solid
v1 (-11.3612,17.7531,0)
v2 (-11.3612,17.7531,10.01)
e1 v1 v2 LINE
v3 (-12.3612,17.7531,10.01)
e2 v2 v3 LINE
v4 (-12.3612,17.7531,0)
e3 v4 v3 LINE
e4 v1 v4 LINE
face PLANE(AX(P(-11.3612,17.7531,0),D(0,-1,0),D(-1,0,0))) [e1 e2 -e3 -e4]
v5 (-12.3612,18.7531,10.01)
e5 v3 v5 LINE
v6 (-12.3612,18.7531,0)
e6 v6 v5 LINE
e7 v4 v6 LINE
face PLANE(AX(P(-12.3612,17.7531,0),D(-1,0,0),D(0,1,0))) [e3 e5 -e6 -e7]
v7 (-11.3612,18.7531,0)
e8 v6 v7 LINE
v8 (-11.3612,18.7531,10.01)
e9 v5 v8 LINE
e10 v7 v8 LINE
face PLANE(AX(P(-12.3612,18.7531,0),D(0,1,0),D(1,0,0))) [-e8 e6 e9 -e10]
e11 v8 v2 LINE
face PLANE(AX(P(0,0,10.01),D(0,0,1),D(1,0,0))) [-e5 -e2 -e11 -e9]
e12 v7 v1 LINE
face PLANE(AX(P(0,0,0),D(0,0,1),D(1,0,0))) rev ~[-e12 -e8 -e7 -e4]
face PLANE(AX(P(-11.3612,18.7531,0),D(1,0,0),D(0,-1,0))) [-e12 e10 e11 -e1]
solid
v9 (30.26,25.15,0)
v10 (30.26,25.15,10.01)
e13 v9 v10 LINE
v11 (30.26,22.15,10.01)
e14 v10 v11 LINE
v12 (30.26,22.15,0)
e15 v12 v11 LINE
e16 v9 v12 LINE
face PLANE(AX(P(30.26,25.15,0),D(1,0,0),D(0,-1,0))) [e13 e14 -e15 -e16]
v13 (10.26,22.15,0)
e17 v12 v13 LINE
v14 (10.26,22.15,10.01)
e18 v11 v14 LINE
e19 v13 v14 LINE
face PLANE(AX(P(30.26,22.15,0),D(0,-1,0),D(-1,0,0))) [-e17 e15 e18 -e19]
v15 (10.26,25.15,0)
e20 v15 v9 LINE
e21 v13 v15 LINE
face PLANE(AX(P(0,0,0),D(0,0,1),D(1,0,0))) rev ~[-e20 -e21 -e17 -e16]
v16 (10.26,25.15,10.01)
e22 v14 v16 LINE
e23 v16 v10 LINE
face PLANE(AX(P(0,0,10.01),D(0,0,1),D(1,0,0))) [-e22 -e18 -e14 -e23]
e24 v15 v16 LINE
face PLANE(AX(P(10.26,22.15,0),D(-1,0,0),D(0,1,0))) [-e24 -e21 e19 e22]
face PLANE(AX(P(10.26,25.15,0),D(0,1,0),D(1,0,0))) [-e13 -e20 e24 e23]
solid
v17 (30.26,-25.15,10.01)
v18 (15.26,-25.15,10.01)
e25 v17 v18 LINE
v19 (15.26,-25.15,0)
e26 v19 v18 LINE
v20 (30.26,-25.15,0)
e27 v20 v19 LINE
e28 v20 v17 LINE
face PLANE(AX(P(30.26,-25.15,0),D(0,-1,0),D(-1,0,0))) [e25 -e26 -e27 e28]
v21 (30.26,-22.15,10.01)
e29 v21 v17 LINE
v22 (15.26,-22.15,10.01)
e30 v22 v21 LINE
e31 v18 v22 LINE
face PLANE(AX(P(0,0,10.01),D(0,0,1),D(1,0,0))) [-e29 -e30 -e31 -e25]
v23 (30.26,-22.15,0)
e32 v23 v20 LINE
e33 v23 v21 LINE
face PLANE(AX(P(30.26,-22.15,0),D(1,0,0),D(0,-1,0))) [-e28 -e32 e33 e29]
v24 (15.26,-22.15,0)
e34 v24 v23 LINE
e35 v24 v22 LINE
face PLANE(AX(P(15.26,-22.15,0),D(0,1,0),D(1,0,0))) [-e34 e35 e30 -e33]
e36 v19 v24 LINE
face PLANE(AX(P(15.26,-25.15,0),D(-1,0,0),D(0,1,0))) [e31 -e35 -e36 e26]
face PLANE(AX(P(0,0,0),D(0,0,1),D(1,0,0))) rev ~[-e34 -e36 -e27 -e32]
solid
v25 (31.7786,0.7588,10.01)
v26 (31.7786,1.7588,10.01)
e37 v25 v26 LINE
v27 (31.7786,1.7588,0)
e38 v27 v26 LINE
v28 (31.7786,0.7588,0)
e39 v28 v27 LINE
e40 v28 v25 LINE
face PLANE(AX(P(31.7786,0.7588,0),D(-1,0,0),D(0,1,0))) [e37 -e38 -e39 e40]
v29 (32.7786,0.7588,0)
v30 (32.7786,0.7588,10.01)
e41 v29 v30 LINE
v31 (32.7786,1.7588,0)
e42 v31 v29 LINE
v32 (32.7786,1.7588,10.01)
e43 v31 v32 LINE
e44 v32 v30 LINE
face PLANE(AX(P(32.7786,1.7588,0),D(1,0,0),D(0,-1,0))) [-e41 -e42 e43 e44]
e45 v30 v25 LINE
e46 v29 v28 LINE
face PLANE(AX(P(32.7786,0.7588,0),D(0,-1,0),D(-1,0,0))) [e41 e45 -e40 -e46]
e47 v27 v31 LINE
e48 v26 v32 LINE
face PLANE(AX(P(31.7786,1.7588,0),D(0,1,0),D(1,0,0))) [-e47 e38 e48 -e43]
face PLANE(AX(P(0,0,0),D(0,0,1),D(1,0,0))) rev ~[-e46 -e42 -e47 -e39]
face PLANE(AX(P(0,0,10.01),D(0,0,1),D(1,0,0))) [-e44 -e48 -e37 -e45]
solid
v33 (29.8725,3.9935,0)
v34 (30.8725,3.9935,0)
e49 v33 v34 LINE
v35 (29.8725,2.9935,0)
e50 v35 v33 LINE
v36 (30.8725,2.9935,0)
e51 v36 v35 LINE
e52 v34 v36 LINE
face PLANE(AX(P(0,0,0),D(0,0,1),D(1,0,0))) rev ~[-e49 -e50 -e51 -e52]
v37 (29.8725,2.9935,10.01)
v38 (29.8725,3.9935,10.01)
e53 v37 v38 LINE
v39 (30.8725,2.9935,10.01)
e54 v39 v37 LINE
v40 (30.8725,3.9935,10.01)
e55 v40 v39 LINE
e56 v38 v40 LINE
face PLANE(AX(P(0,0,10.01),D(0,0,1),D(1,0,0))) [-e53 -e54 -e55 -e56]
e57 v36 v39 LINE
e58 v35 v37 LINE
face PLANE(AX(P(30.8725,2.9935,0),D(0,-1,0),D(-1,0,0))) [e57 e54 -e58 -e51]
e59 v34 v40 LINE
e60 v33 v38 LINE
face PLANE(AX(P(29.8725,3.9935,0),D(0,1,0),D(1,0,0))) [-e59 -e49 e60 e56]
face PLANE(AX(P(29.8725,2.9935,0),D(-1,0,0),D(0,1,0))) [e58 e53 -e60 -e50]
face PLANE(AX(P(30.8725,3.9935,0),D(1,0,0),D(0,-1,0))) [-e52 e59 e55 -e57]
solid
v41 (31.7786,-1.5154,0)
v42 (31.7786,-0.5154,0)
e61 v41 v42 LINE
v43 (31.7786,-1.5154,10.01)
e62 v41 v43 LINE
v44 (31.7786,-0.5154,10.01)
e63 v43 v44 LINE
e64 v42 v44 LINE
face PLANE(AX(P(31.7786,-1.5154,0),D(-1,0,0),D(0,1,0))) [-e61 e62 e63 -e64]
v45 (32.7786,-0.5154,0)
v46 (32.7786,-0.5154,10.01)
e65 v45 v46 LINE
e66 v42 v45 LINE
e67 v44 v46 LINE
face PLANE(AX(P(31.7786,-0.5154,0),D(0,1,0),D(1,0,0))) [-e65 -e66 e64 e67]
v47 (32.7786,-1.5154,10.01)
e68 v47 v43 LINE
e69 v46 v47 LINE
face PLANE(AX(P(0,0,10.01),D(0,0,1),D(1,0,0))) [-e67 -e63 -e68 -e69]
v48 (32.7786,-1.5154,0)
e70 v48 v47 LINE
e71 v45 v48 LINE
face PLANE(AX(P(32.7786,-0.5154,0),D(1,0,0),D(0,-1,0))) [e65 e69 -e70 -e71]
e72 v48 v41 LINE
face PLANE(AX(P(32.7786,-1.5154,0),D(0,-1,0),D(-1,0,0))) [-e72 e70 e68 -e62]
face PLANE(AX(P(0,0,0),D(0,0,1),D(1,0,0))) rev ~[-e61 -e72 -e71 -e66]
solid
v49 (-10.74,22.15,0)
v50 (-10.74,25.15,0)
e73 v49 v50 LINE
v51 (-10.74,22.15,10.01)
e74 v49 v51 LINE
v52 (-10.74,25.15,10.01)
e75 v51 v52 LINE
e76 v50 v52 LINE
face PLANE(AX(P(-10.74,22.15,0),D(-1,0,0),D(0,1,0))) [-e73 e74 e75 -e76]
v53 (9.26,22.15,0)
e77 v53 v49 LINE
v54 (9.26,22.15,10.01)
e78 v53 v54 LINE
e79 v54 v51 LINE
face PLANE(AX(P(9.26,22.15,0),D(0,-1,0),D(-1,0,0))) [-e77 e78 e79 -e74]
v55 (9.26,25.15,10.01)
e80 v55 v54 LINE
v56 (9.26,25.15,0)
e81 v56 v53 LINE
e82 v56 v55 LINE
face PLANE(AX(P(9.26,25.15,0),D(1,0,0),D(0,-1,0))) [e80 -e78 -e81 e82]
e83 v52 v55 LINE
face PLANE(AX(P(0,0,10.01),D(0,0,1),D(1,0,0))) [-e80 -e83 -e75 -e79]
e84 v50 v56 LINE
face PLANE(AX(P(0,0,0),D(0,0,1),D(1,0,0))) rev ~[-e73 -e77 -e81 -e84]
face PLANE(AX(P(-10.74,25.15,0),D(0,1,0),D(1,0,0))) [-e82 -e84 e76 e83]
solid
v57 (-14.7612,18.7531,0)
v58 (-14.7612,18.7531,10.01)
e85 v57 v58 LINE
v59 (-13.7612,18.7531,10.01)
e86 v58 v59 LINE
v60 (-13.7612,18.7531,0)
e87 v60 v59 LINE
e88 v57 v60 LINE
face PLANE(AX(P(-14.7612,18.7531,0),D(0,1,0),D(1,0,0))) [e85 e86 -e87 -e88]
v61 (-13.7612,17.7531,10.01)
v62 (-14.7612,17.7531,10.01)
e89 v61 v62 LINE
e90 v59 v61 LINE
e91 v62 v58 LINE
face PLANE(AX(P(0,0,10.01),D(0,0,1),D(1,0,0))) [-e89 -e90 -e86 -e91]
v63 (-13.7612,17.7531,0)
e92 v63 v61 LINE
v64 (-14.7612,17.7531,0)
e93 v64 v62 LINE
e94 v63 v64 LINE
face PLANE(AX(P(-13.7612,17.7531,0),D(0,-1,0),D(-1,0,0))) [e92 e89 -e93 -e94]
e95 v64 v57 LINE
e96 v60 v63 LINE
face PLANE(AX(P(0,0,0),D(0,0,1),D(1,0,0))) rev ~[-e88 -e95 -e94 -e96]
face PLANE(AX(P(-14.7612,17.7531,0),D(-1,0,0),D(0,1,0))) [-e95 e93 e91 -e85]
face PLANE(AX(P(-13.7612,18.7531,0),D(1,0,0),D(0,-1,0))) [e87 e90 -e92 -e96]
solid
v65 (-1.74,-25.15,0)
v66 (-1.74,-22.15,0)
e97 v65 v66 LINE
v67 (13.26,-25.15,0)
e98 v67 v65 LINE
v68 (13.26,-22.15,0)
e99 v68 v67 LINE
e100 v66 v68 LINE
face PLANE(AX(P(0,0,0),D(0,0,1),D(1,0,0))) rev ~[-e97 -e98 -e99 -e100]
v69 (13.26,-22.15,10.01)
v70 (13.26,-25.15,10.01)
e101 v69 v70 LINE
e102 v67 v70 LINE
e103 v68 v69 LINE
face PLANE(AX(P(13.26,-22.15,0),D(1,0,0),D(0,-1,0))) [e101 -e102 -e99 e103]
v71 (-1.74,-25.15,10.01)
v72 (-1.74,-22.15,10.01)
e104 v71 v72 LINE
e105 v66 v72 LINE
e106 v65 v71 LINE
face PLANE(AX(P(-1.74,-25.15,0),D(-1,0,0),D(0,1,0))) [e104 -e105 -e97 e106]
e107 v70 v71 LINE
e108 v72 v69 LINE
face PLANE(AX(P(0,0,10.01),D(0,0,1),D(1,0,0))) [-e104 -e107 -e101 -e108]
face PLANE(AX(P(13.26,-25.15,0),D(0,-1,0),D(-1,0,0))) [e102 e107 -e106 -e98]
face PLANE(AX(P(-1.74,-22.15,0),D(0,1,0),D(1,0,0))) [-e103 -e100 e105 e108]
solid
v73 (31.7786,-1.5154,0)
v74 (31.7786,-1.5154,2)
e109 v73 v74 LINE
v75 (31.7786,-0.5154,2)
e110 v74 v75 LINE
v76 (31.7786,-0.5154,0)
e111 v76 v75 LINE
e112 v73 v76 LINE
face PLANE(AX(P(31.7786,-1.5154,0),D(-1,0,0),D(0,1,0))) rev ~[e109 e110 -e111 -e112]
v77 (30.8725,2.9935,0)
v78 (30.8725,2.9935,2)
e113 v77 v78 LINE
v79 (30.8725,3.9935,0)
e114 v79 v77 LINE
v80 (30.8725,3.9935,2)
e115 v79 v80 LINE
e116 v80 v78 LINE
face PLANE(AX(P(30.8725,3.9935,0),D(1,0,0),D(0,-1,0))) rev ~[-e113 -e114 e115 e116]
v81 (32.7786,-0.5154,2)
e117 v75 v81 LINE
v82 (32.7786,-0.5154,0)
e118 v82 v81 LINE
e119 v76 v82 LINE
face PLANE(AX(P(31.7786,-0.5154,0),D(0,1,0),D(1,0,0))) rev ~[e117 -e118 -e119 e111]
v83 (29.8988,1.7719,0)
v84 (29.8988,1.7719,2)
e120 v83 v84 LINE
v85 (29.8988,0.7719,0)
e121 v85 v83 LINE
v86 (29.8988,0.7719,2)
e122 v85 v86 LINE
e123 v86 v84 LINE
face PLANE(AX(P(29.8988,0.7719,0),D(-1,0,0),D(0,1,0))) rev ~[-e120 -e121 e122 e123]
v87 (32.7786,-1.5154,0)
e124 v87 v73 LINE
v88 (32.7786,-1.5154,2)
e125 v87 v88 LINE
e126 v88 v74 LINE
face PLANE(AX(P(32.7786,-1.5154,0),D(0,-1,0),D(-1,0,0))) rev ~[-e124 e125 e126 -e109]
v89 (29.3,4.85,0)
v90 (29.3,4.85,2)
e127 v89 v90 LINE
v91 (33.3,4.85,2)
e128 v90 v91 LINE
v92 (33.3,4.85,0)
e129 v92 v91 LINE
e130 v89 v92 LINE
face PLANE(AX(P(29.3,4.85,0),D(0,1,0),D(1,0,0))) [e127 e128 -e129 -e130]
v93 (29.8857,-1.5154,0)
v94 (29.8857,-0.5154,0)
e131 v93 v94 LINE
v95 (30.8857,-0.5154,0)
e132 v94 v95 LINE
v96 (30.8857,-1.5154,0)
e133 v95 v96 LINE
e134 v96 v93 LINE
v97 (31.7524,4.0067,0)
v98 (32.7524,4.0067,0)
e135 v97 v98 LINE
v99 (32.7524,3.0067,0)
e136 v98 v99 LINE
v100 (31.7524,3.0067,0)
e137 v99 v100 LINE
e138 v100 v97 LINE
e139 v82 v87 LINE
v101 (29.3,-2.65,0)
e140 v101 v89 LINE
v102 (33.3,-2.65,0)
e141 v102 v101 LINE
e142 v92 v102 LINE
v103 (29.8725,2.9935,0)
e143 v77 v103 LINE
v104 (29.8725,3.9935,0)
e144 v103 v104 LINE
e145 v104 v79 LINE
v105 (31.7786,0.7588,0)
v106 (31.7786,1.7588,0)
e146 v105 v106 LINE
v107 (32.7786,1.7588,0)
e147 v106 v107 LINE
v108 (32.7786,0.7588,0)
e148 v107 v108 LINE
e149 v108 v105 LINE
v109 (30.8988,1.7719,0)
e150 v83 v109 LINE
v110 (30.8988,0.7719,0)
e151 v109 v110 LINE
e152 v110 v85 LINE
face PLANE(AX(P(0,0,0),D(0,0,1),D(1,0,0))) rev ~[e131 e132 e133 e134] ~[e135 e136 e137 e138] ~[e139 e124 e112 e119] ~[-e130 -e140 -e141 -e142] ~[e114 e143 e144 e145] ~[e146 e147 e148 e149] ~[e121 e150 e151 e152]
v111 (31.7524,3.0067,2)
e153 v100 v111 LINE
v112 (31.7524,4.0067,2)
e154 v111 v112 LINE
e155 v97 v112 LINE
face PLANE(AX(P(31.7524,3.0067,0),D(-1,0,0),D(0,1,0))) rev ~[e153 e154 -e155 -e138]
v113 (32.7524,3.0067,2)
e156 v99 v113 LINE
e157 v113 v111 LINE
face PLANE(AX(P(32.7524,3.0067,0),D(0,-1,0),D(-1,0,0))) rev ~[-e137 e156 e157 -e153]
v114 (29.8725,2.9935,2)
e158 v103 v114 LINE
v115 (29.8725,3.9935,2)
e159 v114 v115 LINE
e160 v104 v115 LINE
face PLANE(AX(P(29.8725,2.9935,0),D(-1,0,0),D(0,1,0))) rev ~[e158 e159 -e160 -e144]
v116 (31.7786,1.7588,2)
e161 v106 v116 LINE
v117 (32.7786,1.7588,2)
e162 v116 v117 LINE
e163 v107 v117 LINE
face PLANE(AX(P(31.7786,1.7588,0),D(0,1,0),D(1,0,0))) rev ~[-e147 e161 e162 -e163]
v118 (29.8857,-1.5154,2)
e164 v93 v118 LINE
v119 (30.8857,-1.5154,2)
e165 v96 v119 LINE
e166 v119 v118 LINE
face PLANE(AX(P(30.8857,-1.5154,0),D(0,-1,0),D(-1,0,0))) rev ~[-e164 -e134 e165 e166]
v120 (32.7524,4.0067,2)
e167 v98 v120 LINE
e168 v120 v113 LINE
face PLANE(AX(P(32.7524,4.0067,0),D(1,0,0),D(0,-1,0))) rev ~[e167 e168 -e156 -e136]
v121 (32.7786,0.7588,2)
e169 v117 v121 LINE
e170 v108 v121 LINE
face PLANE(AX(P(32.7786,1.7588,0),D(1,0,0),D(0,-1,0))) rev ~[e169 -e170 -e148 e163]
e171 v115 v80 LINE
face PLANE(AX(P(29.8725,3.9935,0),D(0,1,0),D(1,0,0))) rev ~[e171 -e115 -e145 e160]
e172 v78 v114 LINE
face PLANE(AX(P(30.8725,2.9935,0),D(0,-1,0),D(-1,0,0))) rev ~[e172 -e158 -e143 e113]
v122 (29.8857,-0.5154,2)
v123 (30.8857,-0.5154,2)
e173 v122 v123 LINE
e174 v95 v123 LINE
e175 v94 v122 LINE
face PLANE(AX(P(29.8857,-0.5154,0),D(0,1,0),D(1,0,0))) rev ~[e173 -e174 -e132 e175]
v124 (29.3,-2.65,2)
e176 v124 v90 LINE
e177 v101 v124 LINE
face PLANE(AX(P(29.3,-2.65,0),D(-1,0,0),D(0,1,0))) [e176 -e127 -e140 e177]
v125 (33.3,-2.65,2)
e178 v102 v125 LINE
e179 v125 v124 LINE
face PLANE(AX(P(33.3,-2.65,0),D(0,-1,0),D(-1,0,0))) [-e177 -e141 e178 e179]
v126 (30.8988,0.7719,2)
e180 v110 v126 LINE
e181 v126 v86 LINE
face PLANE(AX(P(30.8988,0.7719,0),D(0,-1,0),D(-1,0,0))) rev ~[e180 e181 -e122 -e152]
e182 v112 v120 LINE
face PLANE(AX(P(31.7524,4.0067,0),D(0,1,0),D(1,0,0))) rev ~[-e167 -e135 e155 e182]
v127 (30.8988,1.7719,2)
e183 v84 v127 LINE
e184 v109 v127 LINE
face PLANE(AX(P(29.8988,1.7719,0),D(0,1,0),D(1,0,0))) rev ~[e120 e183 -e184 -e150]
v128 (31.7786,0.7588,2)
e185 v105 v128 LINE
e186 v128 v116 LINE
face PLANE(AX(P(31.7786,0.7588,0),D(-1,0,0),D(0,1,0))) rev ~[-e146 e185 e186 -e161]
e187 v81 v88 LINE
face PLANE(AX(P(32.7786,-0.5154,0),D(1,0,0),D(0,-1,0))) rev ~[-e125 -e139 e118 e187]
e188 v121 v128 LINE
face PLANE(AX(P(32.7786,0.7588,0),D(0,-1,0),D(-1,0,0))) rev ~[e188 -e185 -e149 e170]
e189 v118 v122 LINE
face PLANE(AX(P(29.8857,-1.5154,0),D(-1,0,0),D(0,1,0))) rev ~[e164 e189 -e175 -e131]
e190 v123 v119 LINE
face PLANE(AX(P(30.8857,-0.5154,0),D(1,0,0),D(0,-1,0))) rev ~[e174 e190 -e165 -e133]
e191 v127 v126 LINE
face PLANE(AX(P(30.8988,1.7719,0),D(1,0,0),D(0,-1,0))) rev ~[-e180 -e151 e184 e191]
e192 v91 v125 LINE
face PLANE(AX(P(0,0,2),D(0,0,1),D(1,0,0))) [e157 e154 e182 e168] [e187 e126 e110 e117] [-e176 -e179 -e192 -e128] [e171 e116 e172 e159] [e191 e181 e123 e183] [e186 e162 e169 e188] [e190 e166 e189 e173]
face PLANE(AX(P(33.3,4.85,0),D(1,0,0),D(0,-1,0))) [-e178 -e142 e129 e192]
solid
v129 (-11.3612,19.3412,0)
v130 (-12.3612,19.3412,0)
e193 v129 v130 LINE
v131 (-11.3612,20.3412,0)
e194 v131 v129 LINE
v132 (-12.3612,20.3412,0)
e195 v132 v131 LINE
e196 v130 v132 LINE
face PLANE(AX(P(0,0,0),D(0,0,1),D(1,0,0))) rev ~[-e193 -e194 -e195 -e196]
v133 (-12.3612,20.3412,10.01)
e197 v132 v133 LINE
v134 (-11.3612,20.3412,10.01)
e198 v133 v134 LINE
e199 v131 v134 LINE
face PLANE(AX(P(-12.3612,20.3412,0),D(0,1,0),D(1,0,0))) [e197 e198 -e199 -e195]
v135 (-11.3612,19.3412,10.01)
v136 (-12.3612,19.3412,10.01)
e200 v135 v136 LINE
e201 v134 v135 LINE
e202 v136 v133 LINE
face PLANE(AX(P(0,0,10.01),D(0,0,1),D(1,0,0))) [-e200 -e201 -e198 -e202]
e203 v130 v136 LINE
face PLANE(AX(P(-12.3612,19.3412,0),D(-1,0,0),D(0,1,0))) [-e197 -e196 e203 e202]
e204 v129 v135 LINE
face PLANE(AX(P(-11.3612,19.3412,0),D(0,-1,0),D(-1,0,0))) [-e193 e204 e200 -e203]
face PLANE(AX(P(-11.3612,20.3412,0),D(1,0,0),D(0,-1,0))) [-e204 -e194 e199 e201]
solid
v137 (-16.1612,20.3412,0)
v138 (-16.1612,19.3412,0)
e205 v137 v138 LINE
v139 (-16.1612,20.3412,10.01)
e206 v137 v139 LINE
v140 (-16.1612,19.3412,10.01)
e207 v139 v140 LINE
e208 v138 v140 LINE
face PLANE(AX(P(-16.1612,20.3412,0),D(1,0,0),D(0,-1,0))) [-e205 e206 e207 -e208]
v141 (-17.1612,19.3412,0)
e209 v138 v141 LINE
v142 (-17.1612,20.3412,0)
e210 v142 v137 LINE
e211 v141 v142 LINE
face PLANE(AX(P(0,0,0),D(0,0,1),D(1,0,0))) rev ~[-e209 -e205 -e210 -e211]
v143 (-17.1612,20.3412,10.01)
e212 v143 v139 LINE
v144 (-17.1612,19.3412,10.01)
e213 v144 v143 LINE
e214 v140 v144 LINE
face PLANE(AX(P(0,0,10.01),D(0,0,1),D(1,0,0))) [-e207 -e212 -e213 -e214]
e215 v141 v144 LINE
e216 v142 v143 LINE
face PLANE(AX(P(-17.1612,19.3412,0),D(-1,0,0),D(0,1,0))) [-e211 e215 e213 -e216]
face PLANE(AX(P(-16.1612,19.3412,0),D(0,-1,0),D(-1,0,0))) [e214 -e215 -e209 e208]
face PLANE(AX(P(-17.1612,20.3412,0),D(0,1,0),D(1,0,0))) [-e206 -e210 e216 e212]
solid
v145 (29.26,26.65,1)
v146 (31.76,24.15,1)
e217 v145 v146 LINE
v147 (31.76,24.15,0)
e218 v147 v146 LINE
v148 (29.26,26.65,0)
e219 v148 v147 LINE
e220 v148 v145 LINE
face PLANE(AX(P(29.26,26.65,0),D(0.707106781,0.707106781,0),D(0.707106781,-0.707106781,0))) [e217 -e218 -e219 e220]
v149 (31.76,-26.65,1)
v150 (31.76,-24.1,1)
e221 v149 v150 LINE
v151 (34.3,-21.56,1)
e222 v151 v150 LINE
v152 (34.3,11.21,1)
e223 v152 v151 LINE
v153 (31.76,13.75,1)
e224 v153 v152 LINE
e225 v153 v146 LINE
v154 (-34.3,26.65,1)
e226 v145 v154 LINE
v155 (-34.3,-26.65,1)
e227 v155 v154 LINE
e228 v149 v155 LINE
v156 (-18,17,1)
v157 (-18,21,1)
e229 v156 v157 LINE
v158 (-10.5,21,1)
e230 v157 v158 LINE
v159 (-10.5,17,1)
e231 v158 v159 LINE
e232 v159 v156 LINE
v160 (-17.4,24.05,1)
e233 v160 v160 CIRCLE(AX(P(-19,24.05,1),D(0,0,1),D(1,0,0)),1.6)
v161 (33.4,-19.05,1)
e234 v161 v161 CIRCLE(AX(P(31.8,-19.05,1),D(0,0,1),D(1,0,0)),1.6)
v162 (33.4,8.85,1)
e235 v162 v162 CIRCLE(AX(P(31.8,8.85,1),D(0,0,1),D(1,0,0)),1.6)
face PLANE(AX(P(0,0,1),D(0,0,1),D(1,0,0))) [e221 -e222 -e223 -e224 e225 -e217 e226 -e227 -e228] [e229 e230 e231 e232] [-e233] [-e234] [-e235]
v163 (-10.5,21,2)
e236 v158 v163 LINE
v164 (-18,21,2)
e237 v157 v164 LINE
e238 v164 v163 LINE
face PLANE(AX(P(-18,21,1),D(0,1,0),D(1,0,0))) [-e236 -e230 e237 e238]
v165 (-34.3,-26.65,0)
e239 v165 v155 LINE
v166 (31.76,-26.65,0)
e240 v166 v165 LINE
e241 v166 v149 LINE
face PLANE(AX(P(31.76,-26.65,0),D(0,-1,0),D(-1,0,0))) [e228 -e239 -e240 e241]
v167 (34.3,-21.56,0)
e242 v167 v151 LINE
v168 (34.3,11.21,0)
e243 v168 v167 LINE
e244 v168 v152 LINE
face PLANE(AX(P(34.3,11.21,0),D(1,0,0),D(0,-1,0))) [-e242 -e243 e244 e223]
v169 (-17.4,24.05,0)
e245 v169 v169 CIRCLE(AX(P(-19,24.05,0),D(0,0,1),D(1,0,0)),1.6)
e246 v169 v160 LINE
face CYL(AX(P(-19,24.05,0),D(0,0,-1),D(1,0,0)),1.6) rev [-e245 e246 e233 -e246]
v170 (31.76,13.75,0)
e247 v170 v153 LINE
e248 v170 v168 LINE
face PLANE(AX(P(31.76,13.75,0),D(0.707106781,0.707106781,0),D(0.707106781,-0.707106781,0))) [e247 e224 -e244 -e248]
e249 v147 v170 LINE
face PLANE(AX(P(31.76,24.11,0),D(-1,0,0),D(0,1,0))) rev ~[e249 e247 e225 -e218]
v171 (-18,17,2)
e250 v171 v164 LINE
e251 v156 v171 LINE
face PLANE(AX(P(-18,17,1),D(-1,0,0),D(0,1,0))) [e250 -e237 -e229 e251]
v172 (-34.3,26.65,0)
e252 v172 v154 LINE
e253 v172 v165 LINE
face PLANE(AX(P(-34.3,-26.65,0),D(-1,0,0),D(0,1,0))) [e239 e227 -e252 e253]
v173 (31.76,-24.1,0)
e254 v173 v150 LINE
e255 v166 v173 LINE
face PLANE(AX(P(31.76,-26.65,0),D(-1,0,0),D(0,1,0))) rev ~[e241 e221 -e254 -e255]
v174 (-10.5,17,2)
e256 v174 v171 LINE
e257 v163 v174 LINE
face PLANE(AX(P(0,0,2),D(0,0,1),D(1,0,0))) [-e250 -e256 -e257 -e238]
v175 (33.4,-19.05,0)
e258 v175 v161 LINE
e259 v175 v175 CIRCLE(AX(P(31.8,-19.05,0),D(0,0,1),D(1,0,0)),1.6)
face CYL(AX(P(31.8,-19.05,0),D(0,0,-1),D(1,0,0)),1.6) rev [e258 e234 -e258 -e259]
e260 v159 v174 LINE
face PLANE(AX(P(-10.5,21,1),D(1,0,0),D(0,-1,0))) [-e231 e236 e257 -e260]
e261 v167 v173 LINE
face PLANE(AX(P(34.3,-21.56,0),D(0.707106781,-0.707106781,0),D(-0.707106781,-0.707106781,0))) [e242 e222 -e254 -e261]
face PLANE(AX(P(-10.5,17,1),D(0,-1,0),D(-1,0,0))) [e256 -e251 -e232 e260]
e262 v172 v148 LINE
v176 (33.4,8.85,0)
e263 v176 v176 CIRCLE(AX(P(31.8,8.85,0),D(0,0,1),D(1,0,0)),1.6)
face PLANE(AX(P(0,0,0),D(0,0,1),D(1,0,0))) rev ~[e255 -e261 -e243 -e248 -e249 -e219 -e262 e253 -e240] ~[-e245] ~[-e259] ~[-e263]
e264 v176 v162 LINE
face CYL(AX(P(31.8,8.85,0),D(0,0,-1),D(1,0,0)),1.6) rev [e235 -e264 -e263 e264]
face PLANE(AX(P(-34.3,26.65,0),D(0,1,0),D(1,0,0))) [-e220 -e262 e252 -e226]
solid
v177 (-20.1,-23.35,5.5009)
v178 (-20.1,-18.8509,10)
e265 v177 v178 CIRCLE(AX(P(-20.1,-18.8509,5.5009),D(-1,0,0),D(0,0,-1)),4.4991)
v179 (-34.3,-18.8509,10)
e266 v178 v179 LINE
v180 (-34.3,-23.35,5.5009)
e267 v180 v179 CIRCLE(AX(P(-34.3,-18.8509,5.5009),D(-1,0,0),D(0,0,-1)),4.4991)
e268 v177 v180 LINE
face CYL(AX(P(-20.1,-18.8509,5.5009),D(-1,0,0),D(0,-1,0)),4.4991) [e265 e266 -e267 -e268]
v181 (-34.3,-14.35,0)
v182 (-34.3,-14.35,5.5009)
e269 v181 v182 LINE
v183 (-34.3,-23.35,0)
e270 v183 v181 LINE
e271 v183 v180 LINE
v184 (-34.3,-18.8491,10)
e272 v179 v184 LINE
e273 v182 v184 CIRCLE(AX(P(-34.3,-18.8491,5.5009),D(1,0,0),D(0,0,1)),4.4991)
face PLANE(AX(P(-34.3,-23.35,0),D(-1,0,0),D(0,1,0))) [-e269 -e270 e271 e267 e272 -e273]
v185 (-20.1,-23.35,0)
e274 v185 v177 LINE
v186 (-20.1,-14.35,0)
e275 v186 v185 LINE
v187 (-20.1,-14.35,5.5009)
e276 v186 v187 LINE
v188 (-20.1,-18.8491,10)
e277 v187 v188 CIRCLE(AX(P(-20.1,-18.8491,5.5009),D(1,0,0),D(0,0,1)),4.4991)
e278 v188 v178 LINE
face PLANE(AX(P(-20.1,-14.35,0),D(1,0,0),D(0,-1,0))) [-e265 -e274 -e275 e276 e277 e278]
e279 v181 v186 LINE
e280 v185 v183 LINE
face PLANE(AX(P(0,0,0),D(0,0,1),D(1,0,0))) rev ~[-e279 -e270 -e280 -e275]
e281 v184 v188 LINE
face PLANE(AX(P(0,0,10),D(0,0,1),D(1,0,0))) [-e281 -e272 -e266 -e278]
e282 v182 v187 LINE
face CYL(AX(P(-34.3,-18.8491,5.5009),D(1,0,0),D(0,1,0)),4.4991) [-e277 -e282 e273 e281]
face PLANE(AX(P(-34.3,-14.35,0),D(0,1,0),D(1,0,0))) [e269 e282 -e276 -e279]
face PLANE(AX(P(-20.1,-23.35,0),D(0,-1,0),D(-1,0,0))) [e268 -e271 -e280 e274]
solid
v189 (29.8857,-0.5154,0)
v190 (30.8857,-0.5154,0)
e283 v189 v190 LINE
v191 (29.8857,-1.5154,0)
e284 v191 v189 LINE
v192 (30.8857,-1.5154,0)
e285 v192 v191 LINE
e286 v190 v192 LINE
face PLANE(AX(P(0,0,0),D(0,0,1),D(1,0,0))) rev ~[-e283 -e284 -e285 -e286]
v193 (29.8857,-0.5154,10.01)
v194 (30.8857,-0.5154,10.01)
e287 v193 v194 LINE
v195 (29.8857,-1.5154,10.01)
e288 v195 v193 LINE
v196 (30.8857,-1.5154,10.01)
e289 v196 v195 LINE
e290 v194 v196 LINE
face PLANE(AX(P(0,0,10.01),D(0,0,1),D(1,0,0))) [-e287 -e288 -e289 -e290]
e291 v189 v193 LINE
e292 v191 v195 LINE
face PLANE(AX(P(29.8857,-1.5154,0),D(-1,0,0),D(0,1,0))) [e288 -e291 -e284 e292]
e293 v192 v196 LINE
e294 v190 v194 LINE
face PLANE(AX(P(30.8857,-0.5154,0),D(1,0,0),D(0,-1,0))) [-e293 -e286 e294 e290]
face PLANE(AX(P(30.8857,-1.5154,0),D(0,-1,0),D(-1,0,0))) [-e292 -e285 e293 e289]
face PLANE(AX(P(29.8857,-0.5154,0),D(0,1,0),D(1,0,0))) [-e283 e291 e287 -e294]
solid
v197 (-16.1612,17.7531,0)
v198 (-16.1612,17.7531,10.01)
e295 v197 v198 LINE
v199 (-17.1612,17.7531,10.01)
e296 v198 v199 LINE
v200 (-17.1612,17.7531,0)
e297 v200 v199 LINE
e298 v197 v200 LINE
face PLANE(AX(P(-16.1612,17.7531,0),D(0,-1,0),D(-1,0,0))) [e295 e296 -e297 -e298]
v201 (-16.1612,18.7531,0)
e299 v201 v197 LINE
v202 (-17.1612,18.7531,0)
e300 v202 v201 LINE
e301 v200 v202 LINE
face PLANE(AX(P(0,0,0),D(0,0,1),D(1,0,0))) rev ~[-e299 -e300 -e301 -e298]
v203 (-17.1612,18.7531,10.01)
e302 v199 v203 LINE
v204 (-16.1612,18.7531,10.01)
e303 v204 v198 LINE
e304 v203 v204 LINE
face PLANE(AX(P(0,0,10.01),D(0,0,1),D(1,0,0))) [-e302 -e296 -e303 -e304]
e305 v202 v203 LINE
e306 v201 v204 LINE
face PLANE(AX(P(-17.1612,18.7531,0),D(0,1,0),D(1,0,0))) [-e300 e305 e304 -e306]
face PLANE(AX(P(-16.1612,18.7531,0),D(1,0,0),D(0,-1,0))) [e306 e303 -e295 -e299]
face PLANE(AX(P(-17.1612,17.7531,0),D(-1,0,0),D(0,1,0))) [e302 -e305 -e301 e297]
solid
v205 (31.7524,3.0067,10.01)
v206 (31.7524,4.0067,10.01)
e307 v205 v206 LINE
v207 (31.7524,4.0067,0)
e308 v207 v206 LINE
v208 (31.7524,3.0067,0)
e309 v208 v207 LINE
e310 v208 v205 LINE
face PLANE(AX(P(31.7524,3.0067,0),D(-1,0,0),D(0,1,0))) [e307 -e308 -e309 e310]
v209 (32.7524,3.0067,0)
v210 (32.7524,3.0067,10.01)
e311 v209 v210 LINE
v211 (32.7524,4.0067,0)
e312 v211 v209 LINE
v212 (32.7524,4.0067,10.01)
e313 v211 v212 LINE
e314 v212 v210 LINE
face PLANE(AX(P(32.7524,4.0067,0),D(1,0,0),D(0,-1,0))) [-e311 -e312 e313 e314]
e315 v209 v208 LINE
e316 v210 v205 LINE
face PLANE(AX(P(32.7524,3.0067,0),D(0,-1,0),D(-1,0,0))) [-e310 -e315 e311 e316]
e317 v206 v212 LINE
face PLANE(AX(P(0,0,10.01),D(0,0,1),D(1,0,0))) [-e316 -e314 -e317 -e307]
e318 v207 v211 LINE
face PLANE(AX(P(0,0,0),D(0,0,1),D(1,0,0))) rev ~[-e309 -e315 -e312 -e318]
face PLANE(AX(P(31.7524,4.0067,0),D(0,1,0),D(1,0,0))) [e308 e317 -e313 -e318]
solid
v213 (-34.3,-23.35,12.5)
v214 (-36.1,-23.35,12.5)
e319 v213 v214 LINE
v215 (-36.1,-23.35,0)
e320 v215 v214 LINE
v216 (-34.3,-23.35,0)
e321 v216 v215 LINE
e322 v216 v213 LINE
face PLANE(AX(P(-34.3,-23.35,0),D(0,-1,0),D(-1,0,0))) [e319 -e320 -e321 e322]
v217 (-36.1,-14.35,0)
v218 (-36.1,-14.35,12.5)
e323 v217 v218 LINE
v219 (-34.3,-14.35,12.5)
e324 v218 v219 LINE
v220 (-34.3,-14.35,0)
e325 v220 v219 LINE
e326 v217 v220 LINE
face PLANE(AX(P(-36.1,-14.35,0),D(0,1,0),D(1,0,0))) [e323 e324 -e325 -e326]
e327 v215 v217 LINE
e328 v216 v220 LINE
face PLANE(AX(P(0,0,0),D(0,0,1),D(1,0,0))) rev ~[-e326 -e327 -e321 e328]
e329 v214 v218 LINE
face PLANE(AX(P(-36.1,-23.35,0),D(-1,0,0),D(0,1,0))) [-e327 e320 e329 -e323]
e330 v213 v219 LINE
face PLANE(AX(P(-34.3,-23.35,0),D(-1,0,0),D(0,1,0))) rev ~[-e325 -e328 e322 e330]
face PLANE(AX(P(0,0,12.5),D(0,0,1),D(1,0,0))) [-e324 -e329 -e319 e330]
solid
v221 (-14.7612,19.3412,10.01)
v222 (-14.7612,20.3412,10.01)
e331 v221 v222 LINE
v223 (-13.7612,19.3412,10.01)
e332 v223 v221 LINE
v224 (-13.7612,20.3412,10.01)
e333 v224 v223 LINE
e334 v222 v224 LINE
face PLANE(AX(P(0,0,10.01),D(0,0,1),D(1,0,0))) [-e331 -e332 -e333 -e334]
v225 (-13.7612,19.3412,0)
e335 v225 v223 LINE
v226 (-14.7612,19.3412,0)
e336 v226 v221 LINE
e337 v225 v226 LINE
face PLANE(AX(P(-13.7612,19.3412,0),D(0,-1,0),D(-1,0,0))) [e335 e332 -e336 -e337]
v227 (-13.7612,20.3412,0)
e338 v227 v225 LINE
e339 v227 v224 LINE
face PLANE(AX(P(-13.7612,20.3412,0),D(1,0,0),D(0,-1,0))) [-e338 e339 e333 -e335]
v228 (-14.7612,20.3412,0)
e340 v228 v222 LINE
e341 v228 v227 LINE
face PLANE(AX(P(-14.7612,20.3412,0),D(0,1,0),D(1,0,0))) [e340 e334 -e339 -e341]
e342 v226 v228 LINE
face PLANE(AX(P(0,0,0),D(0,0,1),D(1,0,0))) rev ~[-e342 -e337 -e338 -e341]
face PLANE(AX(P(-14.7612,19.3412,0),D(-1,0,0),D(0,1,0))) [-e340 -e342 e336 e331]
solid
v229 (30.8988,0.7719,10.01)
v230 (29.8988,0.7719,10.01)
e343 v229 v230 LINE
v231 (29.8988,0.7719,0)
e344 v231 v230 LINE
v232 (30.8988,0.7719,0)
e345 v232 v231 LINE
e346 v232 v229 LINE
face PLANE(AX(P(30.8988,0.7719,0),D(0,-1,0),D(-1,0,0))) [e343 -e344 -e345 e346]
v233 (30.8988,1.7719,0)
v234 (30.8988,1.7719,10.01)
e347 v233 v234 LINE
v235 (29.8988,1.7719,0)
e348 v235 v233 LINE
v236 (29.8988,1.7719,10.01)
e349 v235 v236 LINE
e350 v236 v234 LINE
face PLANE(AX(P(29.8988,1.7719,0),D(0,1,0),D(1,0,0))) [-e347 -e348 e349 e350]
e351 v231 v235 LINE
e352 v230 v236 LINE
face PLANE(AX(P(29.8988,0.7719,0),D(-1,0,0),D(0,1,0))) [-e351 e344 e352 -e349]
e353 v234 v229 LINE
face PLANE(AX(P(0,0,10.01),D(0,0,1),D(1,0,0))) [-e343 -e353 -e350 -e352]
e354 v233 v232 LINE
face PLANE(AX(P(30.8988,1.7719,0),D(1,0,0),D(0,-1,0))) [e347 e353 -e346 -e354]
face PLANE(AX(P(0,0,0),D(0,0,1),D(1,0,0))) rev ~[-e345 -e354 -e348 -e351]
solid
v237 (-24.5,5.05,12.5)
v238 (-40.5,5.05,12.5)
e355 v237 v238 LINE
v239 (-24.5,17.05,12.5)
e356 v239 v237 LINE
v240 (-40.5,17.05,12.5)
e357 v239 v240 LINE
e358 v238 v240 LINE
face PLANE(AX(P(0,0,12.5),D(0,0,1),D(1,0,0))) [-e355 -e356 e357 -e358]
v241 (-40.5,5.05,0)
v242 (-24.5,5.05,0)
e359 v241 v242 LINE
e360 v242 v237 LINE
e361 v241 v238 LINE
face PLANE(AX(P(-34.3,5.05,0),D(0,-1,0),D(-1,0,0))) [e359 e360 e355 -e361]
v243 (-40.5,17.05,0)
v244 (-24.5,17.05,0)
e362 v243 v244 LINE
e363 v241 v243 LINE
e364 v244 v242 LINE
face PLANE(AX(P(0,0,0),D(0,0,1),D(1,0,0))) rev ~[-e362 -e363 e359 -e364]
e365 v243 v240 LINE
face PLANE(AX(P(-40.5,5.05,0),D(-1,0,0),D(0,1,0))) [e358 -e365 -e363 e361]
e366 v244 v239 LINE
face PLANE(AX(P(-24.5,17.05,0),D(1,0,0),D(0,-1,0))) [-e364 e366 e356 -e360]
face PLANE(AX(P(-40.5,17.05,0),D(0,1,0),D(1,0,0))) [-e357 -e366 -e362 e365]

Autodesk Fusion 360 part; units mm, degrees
sketch "Sketch1" plane through (0, 0, 0) normal (0, 0, 1) x (1, 0, 0)
  line L0 (34.3, -26.65) -> (-34.3, -26.65)
  line L1 (-34.3, -26.65) -> (-34.3, 26.65)
  line L2 (-34.3, 26.65) -> (29.26, 26.65)
  line L3 (34.3, 26.65) -> (34.3, -26.65)
  line L4 (34.3, -26.65) -> (-34.3, 26.65) construction
  line L5 (-34.3, -26.65) -> (34.3, 26.65) construction
  circle A0 centre (-19, 24.05) radius 1.6
  circle A1 centre (31.8, 8.85) radius 1.6
  circle A2 centre (31.8, -19.05) radius 1.6
  line L6 (31.76, 26.65) -> (34.3, 26.65)
  line L7 (34.3, 26.65) -> (34.3, 13.75)
  line L8 (34.3, 13.75) -> (31.76, 13.75)
  line L9 (31.76, 13.75) -> (31.76, 26.65)
  line L10 (31.76, 13.75) -> (31.76, 13.75)
  line L11 (34.3, 11.21) -> (34.3, -21.56)
  line L12 (31.76, -24.1) -> (31.76, -24.1)
  line L13 (31.76, -24.1) -> (31.76, 13.75) construction
  line L14 (31.76, 13.75) -> (34.3, 11.21)
  line L15 (34.3, -21.56) -> (31.76, -24.1)
  line L16 (31.76, -24.1) -> (34.3, -24.1)
  line L17 (34.3, -24.1) -> (34.3, -26.65)
  line L18 (34.3, -26.65) -> (31.76, -26.65)
  line L19 (31.76, -26.65) -> (31.76, -24.1)
  line L20 (31.76, 26.65) -> (29.22, 26.65)
  line L21 (29.22, 26.65) -> (29.22, 24.11) construction
  line L22 (29.22, 24.11) -> (31.76, 24.11) construction
  line L23 (31.76, 24.11) -> (31.76, 24.15)
  line L24 (29.26, 26.65) -> (31.76, 24.15)
  line L25 (15.26, -22.15) -> (30.26, -22.15)
  line L26 (30.26, -22.15) -> (30.26, -25.15)
  line L27 (30.26, -25.15) -> (15.26, -25.15)
  line L28 (15.26, -25.15) -> (15.26, -22.15)
  line L29 (-1.74, -22.15) -> (13.26, -22.15)
  line L30 (-1.74, -25.15) -> (-1.74, -22.15)
  line L31 (13.26, -25.15) -> (-1.74, -25.15)
  line L32 (13.26, -22.15) -> (13.26, -25.15)
  line L33 (10.26, 25.15) -> (30.26, 25.15)
  line L34 (30.26, 25.15) -> (30.26, 22.15)
  line L35 (30.26, 22.15) -> (10.26, 22.15)
  line L36 (10.26, 22.15) -> (10.26, 25.15)
  line L37 (-10.74, 25.15) -> (9.26, 25.15)
  line L38 (9.26, 25.15) -> (9.26, 22.15)
  line L39 (9.26, 22.15) -> (-10.74, 22.15)
  line L40 (-10.74, 22.15) -> (-10.74, 25.15)
  line L41 (29.3, 4.85) -> (33.3, 4.85)
  line L42 (33.3, 4.85) -> (33.3, -2.65)
  line L43 (33.3, -2.65) -> (29.3, -2.65)
  line L44 (29.3, -2.65) -> (29.3, 4.85)
  line L45 (29.8725, 3.9935) -> (30.8725, 3.9935)
  line L46 (30.8725, 3.9935) -> (30.8725, 2.9935)
  line L47 (30.8725, 2.9935) -> (29.8725, 2.9935)
  line L48 (29.8725, 2.9935) -> (29.8725, 3.9935)
  line L49 (31.7524, 3.0067) -> (31.7524, 4.0067)
  line L50 (32.7524, 3.0067) -> (31.7524, 3.0067)
  line L51 (32.7524, 4.0067) -> (32.7524, 3.0067)
  line L52 (31.7524, 4.0067) -> (32.7524, 4.0067)
  line L53 (29.8988, 0.7719) -> (29.8988, 1.7719)
  line L54 (30.8988, 0.7719) -> (29.8988, 0.7719)
  line L55 (30.8988, 1.7719) -> (30.8988, 0.7719)
  line L56 (29.8988, 1.7719) -> (30.8988, 1.7719)
  line L57 (31.7786, 0.7588) -> (31.7786, 1.7588)
  line L58 (32.7786, 0.7588) -> (31.7786, 0.7588)
  line L59 (32.7786, 1.7588) -> (32.7786, 0.7588)
  line L60 (31.7786, 1.7588) -> (32.7786, 1.7588)
  line L61 (29.8857, -1.5154) -> (29.8857, -0.5154)
  line L62 (30.8857, -1.5154) -> (29.8857, -1.5154)
  line L63 (30.8857, -0.5154) -> (30.8857, -1.5154)
  line L64 (29.8857, -0.5154) -> (30.8857, -0.5154)
  line L65 (31.7786, -1.5154) -> (31.7786, -0.5154)
  line L66 (32.7786, -1.5154) -> (31.7786, -1.5154)
  line L67 (32.7786, -0.5154) -> (32.7786, -1.5154)
  line L68 (31.7786, -0.5154) -> (32.7786, -0.5154)
  line L69 (-40.5, 17.05) -> (-24.5, 17.05)
  line L70 (-24.5, 17.05) -> (-24.5, 5.05)
  line L71 (-24.5, 5.05) -> (-40.5, 5.05)
  line L72 (-40.5, 5.05) -> (-40.5, 17.05)
  line L73 (-36.1, -14.35) -> (-20.1, -14.35)
  line L74 (-20.1, -14.35) -> (-20.1, -23.35)
  line L75 (-20.1, -23.35) -> (-36.1, -23.35)
  line L76 (-36.1, -23.35) -> (-36.1, -14.35)
  line L77 (-18, 21) -> (-10.5, 21)
  line L78 (-10.5, 21) -> (-10.5, 17)
  line L79 (-10.5, 17) -> (-18, 17)
  line L80 (-18, 17) -> (-18, 21)
  line L81 (-17.1612, 20.3412) -> (-16.1612, 20.3412)
  line L82 (-16.1612, 20.3412) -> (-16.1612, 19.3412)
  line L83 (-16.1612, 19.3412) -> (-17.1612, 19.3412)
  line L84 (-17.1612, 19.3412) -> (-17.1612, 20.3412)
  line L85 (-13.7612, 20.3412) -> (-13.7612, 19.3412)
  line L86 (-14.7612, 20.3412) -> (-13.7612, 20.3412)
  line L87 (-14.7612, 19.3412) -> (-14.7612, 20.3412)
  line L88 (-13.7612, 19.3412) -> (-14.7612, 19.3412)
  line L89 (-11.3612, 20.3412) -> (-11.3612, 19.3412)
  line L90 (-12.3612, 20.3412) -> (-11.3612, 20.3412)
  line L91 (-12.3612, 19.3412) -> (-12.3612, 20.3412)
  line L92 (-11.3612, 19.3412) -> (-12.3612, 19.3412)
  line L93 (-17.1612, 18.7531) -> (-16.1612, 18.7531)
  line L94 (-16.1612, 18.7531) -> (-16.1612, 17.7531)
  line L95 (-16.1612, 17.7531) -> (-17.1612, 17.7531)
  line L96 (-17.1612, 17.7531) -> (-17.1612, 18.7531)
  line L97 (-13.7612, 18.7531) -> (-13.7612, 17.7531)
  line L98 (-14.7612, 17.7531) -> (-14.7612, 18.7531)
  line L99 (-14.7612, 18.7531) -> (-13.7612, 18.7531)
  line L100 (-13.7612, 17.7531) -> (-14.7612, 17.7531)
  line L101 (-11.3612, 18.7531) -> (-11.3612, 17.7531)
  line L102 (-12.3612, 17.7531) -> (-12.3612, 18.7531)
  line L103 (-12.3612, 18.7531) -> (-11.3612, 18.7531)
  line L104 (-11.3612, 17.7531) -> (-12.3612, 17.7531)
  point P0 (34.3, 13.75)
  point P1 (34.3, -24.1)
  dimension "d1" = 68.6
  dimension "d2" = 53.3
  dimension "d4" = 3.2
  dimension "d6" = 3.2
  dimension "d7" = 3.2
  dimension "d8" = 15.3
  dimension "d9" = 50.7
  dimension "d10" = 35.5
  dimension "d19" = 12.9
  dimension "d22" = 2.54
  dimension "d23" = 37.85
  dimension "d24" = 2.54
  dimension "d25" = 2.54
  dimension "d26" = 2.54
  dimension "d27" = 2.54
  dimension "d28" = 2.54
  dimension "d29" = 2.54
  dimension "d30" = 2.54
  dimension "d31" = 2.5
  dimension "d32" = 2.5
  dimension "d35" = 15
  dimension "d36" = 3
  dimension "d37" = 1.5
  dimension "d38" = 1.5
  dimension "d39" = 15
  dimension "d40" = 3
  dimension "d41" = 2
  dimension "d42" = 1.5
  dimension "d43" = 20
  dimension "d44" = 3
  dimension "d45" = 20
  dimension "d46" = 3
  dimension "d47" = 1.5
  dimension "d48" = 1.5
  dimension "d49" = 1
  dimension "d50" = 1.5
  dimension "d53" = 4
  dimension "d54" = 7.5
  dimension "d55" = 1
  dimension "d56" = 24
  dimension "d57" = 1
  dimension "d58" = 1
  dimension "d59" = 1
  dimension "d60" = 1
  dimension "d61" = 1
  dimension "d62" = 1
  dimension "d63" = 1
  dimension "d64" = 1
  dimension "d65" = 1
  dimension "d66" = 1
  dimension "d67" = 1
  dimension "d68" = 1
  dimension "d73" = 16
  dimension "d74" = 12
  dimension "d75" = 6.2
  dimension "d76" = 9.6
  dimension "d77" = 16
  dimension "d78" = 9
  dimension "d79" = 3.3
  dimension "d80" = 1.8
  dimension "d87" = 66.1
  dimension "d88" = 7.6
  dimension "d89" = 66.1
  dimension "d90" = 7.5
  dimension "d91" = 4
  dimension "d98" = 1
  dimension "d99" = 1
  dimension "d102" = 4.8
  dimension "d103" = 0
  dimension "d104" = 1
  dimension "d105" = 1
  dimension "d108" = 4.8
  dimension "d109" = 0
extrude "Extrude11" add sketch "Sketch1" along normal blind 10.01 contours L81 L82 L83 L84 | L85 L86 L87 L88 | L89 L90 L91 L92 | L93 L94 L95 L96 | L97 L98 L99 L100 | L101 L102 L103 L104 makes body 1 at (-13.7612, 18.4198, 3.3367) makes body 2 at (-11.3612, 18.4198, 3.3367) makes body 3 at (-16.8279, 20.3412, 3.3367) makes body 4 at (-13.7612, 20.0079, 3.3367) makes body 5 at (-11.3612, 20.0079, 3.3367) makes body 6 at (-16.8279, 18.7531, 3.3367)
extrude "Extrude8" add sketch "Sketch1" along normal blind 1 separate body contours L77 L78 L79 L80 | L81 L82 L83 L84 | L85 L86 L87 L88 | L89 L90 L91 L92 | L93 L94 L95 L96 | L97 L98 L99 L100 | L101 L102 L103 L104 makes body 7
extrude "Extrude7" add sketch "Sketch1" along normal blind 10 separate body contours L1 L73 L74 L75 makes body 8
extrude "Extrude6" add sketch "Sketch1" along normal blind 12.5 separate body contours L1 L73 L75 L76 | L1 L69 L71 L72 | L1 L69 L70 L71 makes body 9 at (-29.8333, 5.05, 8.3333) makes body 10 at (-36.1, -20.35, 4.1667)
extrude "Extrude5" add sketch "Sketch1" along normal blind 10.01 separate body contours L45 L46 L47 L48 | L49 L50 L51 L52 | L53 L54 L55 L56 | L57 L58 L59 L60 | L61 L62 L63 L64 | L65 L66 L67 L68 makes body 11 at (30.2322, 1.7719, 3.3367) makes body 12 at (30.2059, 3.9935, 3.3367) makes body 13 at (30.219, -0.5154, 3.3367) makes body 14 at (32.112, 1.7588, 3.3367) makes body 15 at (32.0857, 4.0067, 3.3367) makes body 16 at (32.112, -0.5154, 3.3367)
extrude "Extrude4" add sketch "Sketch1" along normal blind 2 separate body contours L41 L42 L43 L44 makes body 17
extrude "Extrude3" add sketch "Sketch1" along normal blind 10.01 separate body contours L25 L26 L27 L28 | L29 L30 L31 L32 | L33 L34 L35 L36 | L37 L38 L39 L40 makes body 18 at (16.9267, 25.15, 6.6733) makes body 19 at (3.26, -22.15, 3.3367) makes body 20 at (-4.0733, 25.15, 6.6733) makes body 21 at (20.26, -22.15, 3.3367)
extrude "Extrude2" add sketch "Sketch1" along normal blind 1 separate body contours L0 L1 L2 L3 L9 L11 L14 L15 L19 L20 L23 L24 L69 L70 L71 L73 L74 L75 | L1 L73 L74 L75 | L1 L69 L70 L71 | L25 L26 L27 L28 | L29 L30 L31 L32 | L33 L34 L35 L36 | L37 L38 L39 L40 | L41 L42 L43 L44 | L45 L46 L47 L48 | L49 L50 L51 L52 | L53 L54 L55 L56 | L57 L58 L59 L60 | L61 L62 L63 L64 | L65 L66 L67 L68 | L77 L78 L79 L80 | L81 L82 L83 L84 | L85 L86 L87 L88 | L89 L90 L91 L92 | L93 L94 L95 L96 | L97 L98 L99 L100 | L101 L102 L103 L104 makes body 22
sketch "Sketch2" plane through (0, 0, 1) normal (0, 0, 1) x (-1, 0, 0)
  circle A0 centre (-31.8, -8.85) radius 1.6
  circle A1 centre (-31.8, 19.05) radius 1.6
  circle A2 centre (19, -24.05) radius 1.6
  line L0 (-31.76, 26.65) -> (-31.76, 24.1)
  line L1 (-31.76, 24.1) -> (-34.3, 21.56)
  line L2 (-34.3, 21.56) -> (-34.3, -11.21)
  line L3 (-34.3, -11.21) -> (-31.76, -13.75)
  line L4 (-31.76, -13.75) -> (-31.76, -24.15)
  line L5 (-31.76, -24.15) -> (-29.26, -26.65)
  line L6 (-29.26, -26.65) -> (34.3, -26.65)
  line L7 (34.3, -26.65) -> (34.3, 26.65)
  line L8 (34.3, 26.65) -> (-31.76, 26.65)
fillet "Fillet1" radius 4.5 2 edges at (-27.2, -23.35, 10) (-27.2, -14.35, 10) on bodies 8
extrude "Extrude9" add 1 faces at (-15.5, 19.6667, 1) along direction (0, 0, 1) blind 2 on bodies 7 bodies 7 22
extrude "Extrude10" cut 1 faces at (-15.5, 19.6667, 3) along direction (0, 0, -1) blind 1 on bodies 7 bodies 7
equation "d32 = d31"
